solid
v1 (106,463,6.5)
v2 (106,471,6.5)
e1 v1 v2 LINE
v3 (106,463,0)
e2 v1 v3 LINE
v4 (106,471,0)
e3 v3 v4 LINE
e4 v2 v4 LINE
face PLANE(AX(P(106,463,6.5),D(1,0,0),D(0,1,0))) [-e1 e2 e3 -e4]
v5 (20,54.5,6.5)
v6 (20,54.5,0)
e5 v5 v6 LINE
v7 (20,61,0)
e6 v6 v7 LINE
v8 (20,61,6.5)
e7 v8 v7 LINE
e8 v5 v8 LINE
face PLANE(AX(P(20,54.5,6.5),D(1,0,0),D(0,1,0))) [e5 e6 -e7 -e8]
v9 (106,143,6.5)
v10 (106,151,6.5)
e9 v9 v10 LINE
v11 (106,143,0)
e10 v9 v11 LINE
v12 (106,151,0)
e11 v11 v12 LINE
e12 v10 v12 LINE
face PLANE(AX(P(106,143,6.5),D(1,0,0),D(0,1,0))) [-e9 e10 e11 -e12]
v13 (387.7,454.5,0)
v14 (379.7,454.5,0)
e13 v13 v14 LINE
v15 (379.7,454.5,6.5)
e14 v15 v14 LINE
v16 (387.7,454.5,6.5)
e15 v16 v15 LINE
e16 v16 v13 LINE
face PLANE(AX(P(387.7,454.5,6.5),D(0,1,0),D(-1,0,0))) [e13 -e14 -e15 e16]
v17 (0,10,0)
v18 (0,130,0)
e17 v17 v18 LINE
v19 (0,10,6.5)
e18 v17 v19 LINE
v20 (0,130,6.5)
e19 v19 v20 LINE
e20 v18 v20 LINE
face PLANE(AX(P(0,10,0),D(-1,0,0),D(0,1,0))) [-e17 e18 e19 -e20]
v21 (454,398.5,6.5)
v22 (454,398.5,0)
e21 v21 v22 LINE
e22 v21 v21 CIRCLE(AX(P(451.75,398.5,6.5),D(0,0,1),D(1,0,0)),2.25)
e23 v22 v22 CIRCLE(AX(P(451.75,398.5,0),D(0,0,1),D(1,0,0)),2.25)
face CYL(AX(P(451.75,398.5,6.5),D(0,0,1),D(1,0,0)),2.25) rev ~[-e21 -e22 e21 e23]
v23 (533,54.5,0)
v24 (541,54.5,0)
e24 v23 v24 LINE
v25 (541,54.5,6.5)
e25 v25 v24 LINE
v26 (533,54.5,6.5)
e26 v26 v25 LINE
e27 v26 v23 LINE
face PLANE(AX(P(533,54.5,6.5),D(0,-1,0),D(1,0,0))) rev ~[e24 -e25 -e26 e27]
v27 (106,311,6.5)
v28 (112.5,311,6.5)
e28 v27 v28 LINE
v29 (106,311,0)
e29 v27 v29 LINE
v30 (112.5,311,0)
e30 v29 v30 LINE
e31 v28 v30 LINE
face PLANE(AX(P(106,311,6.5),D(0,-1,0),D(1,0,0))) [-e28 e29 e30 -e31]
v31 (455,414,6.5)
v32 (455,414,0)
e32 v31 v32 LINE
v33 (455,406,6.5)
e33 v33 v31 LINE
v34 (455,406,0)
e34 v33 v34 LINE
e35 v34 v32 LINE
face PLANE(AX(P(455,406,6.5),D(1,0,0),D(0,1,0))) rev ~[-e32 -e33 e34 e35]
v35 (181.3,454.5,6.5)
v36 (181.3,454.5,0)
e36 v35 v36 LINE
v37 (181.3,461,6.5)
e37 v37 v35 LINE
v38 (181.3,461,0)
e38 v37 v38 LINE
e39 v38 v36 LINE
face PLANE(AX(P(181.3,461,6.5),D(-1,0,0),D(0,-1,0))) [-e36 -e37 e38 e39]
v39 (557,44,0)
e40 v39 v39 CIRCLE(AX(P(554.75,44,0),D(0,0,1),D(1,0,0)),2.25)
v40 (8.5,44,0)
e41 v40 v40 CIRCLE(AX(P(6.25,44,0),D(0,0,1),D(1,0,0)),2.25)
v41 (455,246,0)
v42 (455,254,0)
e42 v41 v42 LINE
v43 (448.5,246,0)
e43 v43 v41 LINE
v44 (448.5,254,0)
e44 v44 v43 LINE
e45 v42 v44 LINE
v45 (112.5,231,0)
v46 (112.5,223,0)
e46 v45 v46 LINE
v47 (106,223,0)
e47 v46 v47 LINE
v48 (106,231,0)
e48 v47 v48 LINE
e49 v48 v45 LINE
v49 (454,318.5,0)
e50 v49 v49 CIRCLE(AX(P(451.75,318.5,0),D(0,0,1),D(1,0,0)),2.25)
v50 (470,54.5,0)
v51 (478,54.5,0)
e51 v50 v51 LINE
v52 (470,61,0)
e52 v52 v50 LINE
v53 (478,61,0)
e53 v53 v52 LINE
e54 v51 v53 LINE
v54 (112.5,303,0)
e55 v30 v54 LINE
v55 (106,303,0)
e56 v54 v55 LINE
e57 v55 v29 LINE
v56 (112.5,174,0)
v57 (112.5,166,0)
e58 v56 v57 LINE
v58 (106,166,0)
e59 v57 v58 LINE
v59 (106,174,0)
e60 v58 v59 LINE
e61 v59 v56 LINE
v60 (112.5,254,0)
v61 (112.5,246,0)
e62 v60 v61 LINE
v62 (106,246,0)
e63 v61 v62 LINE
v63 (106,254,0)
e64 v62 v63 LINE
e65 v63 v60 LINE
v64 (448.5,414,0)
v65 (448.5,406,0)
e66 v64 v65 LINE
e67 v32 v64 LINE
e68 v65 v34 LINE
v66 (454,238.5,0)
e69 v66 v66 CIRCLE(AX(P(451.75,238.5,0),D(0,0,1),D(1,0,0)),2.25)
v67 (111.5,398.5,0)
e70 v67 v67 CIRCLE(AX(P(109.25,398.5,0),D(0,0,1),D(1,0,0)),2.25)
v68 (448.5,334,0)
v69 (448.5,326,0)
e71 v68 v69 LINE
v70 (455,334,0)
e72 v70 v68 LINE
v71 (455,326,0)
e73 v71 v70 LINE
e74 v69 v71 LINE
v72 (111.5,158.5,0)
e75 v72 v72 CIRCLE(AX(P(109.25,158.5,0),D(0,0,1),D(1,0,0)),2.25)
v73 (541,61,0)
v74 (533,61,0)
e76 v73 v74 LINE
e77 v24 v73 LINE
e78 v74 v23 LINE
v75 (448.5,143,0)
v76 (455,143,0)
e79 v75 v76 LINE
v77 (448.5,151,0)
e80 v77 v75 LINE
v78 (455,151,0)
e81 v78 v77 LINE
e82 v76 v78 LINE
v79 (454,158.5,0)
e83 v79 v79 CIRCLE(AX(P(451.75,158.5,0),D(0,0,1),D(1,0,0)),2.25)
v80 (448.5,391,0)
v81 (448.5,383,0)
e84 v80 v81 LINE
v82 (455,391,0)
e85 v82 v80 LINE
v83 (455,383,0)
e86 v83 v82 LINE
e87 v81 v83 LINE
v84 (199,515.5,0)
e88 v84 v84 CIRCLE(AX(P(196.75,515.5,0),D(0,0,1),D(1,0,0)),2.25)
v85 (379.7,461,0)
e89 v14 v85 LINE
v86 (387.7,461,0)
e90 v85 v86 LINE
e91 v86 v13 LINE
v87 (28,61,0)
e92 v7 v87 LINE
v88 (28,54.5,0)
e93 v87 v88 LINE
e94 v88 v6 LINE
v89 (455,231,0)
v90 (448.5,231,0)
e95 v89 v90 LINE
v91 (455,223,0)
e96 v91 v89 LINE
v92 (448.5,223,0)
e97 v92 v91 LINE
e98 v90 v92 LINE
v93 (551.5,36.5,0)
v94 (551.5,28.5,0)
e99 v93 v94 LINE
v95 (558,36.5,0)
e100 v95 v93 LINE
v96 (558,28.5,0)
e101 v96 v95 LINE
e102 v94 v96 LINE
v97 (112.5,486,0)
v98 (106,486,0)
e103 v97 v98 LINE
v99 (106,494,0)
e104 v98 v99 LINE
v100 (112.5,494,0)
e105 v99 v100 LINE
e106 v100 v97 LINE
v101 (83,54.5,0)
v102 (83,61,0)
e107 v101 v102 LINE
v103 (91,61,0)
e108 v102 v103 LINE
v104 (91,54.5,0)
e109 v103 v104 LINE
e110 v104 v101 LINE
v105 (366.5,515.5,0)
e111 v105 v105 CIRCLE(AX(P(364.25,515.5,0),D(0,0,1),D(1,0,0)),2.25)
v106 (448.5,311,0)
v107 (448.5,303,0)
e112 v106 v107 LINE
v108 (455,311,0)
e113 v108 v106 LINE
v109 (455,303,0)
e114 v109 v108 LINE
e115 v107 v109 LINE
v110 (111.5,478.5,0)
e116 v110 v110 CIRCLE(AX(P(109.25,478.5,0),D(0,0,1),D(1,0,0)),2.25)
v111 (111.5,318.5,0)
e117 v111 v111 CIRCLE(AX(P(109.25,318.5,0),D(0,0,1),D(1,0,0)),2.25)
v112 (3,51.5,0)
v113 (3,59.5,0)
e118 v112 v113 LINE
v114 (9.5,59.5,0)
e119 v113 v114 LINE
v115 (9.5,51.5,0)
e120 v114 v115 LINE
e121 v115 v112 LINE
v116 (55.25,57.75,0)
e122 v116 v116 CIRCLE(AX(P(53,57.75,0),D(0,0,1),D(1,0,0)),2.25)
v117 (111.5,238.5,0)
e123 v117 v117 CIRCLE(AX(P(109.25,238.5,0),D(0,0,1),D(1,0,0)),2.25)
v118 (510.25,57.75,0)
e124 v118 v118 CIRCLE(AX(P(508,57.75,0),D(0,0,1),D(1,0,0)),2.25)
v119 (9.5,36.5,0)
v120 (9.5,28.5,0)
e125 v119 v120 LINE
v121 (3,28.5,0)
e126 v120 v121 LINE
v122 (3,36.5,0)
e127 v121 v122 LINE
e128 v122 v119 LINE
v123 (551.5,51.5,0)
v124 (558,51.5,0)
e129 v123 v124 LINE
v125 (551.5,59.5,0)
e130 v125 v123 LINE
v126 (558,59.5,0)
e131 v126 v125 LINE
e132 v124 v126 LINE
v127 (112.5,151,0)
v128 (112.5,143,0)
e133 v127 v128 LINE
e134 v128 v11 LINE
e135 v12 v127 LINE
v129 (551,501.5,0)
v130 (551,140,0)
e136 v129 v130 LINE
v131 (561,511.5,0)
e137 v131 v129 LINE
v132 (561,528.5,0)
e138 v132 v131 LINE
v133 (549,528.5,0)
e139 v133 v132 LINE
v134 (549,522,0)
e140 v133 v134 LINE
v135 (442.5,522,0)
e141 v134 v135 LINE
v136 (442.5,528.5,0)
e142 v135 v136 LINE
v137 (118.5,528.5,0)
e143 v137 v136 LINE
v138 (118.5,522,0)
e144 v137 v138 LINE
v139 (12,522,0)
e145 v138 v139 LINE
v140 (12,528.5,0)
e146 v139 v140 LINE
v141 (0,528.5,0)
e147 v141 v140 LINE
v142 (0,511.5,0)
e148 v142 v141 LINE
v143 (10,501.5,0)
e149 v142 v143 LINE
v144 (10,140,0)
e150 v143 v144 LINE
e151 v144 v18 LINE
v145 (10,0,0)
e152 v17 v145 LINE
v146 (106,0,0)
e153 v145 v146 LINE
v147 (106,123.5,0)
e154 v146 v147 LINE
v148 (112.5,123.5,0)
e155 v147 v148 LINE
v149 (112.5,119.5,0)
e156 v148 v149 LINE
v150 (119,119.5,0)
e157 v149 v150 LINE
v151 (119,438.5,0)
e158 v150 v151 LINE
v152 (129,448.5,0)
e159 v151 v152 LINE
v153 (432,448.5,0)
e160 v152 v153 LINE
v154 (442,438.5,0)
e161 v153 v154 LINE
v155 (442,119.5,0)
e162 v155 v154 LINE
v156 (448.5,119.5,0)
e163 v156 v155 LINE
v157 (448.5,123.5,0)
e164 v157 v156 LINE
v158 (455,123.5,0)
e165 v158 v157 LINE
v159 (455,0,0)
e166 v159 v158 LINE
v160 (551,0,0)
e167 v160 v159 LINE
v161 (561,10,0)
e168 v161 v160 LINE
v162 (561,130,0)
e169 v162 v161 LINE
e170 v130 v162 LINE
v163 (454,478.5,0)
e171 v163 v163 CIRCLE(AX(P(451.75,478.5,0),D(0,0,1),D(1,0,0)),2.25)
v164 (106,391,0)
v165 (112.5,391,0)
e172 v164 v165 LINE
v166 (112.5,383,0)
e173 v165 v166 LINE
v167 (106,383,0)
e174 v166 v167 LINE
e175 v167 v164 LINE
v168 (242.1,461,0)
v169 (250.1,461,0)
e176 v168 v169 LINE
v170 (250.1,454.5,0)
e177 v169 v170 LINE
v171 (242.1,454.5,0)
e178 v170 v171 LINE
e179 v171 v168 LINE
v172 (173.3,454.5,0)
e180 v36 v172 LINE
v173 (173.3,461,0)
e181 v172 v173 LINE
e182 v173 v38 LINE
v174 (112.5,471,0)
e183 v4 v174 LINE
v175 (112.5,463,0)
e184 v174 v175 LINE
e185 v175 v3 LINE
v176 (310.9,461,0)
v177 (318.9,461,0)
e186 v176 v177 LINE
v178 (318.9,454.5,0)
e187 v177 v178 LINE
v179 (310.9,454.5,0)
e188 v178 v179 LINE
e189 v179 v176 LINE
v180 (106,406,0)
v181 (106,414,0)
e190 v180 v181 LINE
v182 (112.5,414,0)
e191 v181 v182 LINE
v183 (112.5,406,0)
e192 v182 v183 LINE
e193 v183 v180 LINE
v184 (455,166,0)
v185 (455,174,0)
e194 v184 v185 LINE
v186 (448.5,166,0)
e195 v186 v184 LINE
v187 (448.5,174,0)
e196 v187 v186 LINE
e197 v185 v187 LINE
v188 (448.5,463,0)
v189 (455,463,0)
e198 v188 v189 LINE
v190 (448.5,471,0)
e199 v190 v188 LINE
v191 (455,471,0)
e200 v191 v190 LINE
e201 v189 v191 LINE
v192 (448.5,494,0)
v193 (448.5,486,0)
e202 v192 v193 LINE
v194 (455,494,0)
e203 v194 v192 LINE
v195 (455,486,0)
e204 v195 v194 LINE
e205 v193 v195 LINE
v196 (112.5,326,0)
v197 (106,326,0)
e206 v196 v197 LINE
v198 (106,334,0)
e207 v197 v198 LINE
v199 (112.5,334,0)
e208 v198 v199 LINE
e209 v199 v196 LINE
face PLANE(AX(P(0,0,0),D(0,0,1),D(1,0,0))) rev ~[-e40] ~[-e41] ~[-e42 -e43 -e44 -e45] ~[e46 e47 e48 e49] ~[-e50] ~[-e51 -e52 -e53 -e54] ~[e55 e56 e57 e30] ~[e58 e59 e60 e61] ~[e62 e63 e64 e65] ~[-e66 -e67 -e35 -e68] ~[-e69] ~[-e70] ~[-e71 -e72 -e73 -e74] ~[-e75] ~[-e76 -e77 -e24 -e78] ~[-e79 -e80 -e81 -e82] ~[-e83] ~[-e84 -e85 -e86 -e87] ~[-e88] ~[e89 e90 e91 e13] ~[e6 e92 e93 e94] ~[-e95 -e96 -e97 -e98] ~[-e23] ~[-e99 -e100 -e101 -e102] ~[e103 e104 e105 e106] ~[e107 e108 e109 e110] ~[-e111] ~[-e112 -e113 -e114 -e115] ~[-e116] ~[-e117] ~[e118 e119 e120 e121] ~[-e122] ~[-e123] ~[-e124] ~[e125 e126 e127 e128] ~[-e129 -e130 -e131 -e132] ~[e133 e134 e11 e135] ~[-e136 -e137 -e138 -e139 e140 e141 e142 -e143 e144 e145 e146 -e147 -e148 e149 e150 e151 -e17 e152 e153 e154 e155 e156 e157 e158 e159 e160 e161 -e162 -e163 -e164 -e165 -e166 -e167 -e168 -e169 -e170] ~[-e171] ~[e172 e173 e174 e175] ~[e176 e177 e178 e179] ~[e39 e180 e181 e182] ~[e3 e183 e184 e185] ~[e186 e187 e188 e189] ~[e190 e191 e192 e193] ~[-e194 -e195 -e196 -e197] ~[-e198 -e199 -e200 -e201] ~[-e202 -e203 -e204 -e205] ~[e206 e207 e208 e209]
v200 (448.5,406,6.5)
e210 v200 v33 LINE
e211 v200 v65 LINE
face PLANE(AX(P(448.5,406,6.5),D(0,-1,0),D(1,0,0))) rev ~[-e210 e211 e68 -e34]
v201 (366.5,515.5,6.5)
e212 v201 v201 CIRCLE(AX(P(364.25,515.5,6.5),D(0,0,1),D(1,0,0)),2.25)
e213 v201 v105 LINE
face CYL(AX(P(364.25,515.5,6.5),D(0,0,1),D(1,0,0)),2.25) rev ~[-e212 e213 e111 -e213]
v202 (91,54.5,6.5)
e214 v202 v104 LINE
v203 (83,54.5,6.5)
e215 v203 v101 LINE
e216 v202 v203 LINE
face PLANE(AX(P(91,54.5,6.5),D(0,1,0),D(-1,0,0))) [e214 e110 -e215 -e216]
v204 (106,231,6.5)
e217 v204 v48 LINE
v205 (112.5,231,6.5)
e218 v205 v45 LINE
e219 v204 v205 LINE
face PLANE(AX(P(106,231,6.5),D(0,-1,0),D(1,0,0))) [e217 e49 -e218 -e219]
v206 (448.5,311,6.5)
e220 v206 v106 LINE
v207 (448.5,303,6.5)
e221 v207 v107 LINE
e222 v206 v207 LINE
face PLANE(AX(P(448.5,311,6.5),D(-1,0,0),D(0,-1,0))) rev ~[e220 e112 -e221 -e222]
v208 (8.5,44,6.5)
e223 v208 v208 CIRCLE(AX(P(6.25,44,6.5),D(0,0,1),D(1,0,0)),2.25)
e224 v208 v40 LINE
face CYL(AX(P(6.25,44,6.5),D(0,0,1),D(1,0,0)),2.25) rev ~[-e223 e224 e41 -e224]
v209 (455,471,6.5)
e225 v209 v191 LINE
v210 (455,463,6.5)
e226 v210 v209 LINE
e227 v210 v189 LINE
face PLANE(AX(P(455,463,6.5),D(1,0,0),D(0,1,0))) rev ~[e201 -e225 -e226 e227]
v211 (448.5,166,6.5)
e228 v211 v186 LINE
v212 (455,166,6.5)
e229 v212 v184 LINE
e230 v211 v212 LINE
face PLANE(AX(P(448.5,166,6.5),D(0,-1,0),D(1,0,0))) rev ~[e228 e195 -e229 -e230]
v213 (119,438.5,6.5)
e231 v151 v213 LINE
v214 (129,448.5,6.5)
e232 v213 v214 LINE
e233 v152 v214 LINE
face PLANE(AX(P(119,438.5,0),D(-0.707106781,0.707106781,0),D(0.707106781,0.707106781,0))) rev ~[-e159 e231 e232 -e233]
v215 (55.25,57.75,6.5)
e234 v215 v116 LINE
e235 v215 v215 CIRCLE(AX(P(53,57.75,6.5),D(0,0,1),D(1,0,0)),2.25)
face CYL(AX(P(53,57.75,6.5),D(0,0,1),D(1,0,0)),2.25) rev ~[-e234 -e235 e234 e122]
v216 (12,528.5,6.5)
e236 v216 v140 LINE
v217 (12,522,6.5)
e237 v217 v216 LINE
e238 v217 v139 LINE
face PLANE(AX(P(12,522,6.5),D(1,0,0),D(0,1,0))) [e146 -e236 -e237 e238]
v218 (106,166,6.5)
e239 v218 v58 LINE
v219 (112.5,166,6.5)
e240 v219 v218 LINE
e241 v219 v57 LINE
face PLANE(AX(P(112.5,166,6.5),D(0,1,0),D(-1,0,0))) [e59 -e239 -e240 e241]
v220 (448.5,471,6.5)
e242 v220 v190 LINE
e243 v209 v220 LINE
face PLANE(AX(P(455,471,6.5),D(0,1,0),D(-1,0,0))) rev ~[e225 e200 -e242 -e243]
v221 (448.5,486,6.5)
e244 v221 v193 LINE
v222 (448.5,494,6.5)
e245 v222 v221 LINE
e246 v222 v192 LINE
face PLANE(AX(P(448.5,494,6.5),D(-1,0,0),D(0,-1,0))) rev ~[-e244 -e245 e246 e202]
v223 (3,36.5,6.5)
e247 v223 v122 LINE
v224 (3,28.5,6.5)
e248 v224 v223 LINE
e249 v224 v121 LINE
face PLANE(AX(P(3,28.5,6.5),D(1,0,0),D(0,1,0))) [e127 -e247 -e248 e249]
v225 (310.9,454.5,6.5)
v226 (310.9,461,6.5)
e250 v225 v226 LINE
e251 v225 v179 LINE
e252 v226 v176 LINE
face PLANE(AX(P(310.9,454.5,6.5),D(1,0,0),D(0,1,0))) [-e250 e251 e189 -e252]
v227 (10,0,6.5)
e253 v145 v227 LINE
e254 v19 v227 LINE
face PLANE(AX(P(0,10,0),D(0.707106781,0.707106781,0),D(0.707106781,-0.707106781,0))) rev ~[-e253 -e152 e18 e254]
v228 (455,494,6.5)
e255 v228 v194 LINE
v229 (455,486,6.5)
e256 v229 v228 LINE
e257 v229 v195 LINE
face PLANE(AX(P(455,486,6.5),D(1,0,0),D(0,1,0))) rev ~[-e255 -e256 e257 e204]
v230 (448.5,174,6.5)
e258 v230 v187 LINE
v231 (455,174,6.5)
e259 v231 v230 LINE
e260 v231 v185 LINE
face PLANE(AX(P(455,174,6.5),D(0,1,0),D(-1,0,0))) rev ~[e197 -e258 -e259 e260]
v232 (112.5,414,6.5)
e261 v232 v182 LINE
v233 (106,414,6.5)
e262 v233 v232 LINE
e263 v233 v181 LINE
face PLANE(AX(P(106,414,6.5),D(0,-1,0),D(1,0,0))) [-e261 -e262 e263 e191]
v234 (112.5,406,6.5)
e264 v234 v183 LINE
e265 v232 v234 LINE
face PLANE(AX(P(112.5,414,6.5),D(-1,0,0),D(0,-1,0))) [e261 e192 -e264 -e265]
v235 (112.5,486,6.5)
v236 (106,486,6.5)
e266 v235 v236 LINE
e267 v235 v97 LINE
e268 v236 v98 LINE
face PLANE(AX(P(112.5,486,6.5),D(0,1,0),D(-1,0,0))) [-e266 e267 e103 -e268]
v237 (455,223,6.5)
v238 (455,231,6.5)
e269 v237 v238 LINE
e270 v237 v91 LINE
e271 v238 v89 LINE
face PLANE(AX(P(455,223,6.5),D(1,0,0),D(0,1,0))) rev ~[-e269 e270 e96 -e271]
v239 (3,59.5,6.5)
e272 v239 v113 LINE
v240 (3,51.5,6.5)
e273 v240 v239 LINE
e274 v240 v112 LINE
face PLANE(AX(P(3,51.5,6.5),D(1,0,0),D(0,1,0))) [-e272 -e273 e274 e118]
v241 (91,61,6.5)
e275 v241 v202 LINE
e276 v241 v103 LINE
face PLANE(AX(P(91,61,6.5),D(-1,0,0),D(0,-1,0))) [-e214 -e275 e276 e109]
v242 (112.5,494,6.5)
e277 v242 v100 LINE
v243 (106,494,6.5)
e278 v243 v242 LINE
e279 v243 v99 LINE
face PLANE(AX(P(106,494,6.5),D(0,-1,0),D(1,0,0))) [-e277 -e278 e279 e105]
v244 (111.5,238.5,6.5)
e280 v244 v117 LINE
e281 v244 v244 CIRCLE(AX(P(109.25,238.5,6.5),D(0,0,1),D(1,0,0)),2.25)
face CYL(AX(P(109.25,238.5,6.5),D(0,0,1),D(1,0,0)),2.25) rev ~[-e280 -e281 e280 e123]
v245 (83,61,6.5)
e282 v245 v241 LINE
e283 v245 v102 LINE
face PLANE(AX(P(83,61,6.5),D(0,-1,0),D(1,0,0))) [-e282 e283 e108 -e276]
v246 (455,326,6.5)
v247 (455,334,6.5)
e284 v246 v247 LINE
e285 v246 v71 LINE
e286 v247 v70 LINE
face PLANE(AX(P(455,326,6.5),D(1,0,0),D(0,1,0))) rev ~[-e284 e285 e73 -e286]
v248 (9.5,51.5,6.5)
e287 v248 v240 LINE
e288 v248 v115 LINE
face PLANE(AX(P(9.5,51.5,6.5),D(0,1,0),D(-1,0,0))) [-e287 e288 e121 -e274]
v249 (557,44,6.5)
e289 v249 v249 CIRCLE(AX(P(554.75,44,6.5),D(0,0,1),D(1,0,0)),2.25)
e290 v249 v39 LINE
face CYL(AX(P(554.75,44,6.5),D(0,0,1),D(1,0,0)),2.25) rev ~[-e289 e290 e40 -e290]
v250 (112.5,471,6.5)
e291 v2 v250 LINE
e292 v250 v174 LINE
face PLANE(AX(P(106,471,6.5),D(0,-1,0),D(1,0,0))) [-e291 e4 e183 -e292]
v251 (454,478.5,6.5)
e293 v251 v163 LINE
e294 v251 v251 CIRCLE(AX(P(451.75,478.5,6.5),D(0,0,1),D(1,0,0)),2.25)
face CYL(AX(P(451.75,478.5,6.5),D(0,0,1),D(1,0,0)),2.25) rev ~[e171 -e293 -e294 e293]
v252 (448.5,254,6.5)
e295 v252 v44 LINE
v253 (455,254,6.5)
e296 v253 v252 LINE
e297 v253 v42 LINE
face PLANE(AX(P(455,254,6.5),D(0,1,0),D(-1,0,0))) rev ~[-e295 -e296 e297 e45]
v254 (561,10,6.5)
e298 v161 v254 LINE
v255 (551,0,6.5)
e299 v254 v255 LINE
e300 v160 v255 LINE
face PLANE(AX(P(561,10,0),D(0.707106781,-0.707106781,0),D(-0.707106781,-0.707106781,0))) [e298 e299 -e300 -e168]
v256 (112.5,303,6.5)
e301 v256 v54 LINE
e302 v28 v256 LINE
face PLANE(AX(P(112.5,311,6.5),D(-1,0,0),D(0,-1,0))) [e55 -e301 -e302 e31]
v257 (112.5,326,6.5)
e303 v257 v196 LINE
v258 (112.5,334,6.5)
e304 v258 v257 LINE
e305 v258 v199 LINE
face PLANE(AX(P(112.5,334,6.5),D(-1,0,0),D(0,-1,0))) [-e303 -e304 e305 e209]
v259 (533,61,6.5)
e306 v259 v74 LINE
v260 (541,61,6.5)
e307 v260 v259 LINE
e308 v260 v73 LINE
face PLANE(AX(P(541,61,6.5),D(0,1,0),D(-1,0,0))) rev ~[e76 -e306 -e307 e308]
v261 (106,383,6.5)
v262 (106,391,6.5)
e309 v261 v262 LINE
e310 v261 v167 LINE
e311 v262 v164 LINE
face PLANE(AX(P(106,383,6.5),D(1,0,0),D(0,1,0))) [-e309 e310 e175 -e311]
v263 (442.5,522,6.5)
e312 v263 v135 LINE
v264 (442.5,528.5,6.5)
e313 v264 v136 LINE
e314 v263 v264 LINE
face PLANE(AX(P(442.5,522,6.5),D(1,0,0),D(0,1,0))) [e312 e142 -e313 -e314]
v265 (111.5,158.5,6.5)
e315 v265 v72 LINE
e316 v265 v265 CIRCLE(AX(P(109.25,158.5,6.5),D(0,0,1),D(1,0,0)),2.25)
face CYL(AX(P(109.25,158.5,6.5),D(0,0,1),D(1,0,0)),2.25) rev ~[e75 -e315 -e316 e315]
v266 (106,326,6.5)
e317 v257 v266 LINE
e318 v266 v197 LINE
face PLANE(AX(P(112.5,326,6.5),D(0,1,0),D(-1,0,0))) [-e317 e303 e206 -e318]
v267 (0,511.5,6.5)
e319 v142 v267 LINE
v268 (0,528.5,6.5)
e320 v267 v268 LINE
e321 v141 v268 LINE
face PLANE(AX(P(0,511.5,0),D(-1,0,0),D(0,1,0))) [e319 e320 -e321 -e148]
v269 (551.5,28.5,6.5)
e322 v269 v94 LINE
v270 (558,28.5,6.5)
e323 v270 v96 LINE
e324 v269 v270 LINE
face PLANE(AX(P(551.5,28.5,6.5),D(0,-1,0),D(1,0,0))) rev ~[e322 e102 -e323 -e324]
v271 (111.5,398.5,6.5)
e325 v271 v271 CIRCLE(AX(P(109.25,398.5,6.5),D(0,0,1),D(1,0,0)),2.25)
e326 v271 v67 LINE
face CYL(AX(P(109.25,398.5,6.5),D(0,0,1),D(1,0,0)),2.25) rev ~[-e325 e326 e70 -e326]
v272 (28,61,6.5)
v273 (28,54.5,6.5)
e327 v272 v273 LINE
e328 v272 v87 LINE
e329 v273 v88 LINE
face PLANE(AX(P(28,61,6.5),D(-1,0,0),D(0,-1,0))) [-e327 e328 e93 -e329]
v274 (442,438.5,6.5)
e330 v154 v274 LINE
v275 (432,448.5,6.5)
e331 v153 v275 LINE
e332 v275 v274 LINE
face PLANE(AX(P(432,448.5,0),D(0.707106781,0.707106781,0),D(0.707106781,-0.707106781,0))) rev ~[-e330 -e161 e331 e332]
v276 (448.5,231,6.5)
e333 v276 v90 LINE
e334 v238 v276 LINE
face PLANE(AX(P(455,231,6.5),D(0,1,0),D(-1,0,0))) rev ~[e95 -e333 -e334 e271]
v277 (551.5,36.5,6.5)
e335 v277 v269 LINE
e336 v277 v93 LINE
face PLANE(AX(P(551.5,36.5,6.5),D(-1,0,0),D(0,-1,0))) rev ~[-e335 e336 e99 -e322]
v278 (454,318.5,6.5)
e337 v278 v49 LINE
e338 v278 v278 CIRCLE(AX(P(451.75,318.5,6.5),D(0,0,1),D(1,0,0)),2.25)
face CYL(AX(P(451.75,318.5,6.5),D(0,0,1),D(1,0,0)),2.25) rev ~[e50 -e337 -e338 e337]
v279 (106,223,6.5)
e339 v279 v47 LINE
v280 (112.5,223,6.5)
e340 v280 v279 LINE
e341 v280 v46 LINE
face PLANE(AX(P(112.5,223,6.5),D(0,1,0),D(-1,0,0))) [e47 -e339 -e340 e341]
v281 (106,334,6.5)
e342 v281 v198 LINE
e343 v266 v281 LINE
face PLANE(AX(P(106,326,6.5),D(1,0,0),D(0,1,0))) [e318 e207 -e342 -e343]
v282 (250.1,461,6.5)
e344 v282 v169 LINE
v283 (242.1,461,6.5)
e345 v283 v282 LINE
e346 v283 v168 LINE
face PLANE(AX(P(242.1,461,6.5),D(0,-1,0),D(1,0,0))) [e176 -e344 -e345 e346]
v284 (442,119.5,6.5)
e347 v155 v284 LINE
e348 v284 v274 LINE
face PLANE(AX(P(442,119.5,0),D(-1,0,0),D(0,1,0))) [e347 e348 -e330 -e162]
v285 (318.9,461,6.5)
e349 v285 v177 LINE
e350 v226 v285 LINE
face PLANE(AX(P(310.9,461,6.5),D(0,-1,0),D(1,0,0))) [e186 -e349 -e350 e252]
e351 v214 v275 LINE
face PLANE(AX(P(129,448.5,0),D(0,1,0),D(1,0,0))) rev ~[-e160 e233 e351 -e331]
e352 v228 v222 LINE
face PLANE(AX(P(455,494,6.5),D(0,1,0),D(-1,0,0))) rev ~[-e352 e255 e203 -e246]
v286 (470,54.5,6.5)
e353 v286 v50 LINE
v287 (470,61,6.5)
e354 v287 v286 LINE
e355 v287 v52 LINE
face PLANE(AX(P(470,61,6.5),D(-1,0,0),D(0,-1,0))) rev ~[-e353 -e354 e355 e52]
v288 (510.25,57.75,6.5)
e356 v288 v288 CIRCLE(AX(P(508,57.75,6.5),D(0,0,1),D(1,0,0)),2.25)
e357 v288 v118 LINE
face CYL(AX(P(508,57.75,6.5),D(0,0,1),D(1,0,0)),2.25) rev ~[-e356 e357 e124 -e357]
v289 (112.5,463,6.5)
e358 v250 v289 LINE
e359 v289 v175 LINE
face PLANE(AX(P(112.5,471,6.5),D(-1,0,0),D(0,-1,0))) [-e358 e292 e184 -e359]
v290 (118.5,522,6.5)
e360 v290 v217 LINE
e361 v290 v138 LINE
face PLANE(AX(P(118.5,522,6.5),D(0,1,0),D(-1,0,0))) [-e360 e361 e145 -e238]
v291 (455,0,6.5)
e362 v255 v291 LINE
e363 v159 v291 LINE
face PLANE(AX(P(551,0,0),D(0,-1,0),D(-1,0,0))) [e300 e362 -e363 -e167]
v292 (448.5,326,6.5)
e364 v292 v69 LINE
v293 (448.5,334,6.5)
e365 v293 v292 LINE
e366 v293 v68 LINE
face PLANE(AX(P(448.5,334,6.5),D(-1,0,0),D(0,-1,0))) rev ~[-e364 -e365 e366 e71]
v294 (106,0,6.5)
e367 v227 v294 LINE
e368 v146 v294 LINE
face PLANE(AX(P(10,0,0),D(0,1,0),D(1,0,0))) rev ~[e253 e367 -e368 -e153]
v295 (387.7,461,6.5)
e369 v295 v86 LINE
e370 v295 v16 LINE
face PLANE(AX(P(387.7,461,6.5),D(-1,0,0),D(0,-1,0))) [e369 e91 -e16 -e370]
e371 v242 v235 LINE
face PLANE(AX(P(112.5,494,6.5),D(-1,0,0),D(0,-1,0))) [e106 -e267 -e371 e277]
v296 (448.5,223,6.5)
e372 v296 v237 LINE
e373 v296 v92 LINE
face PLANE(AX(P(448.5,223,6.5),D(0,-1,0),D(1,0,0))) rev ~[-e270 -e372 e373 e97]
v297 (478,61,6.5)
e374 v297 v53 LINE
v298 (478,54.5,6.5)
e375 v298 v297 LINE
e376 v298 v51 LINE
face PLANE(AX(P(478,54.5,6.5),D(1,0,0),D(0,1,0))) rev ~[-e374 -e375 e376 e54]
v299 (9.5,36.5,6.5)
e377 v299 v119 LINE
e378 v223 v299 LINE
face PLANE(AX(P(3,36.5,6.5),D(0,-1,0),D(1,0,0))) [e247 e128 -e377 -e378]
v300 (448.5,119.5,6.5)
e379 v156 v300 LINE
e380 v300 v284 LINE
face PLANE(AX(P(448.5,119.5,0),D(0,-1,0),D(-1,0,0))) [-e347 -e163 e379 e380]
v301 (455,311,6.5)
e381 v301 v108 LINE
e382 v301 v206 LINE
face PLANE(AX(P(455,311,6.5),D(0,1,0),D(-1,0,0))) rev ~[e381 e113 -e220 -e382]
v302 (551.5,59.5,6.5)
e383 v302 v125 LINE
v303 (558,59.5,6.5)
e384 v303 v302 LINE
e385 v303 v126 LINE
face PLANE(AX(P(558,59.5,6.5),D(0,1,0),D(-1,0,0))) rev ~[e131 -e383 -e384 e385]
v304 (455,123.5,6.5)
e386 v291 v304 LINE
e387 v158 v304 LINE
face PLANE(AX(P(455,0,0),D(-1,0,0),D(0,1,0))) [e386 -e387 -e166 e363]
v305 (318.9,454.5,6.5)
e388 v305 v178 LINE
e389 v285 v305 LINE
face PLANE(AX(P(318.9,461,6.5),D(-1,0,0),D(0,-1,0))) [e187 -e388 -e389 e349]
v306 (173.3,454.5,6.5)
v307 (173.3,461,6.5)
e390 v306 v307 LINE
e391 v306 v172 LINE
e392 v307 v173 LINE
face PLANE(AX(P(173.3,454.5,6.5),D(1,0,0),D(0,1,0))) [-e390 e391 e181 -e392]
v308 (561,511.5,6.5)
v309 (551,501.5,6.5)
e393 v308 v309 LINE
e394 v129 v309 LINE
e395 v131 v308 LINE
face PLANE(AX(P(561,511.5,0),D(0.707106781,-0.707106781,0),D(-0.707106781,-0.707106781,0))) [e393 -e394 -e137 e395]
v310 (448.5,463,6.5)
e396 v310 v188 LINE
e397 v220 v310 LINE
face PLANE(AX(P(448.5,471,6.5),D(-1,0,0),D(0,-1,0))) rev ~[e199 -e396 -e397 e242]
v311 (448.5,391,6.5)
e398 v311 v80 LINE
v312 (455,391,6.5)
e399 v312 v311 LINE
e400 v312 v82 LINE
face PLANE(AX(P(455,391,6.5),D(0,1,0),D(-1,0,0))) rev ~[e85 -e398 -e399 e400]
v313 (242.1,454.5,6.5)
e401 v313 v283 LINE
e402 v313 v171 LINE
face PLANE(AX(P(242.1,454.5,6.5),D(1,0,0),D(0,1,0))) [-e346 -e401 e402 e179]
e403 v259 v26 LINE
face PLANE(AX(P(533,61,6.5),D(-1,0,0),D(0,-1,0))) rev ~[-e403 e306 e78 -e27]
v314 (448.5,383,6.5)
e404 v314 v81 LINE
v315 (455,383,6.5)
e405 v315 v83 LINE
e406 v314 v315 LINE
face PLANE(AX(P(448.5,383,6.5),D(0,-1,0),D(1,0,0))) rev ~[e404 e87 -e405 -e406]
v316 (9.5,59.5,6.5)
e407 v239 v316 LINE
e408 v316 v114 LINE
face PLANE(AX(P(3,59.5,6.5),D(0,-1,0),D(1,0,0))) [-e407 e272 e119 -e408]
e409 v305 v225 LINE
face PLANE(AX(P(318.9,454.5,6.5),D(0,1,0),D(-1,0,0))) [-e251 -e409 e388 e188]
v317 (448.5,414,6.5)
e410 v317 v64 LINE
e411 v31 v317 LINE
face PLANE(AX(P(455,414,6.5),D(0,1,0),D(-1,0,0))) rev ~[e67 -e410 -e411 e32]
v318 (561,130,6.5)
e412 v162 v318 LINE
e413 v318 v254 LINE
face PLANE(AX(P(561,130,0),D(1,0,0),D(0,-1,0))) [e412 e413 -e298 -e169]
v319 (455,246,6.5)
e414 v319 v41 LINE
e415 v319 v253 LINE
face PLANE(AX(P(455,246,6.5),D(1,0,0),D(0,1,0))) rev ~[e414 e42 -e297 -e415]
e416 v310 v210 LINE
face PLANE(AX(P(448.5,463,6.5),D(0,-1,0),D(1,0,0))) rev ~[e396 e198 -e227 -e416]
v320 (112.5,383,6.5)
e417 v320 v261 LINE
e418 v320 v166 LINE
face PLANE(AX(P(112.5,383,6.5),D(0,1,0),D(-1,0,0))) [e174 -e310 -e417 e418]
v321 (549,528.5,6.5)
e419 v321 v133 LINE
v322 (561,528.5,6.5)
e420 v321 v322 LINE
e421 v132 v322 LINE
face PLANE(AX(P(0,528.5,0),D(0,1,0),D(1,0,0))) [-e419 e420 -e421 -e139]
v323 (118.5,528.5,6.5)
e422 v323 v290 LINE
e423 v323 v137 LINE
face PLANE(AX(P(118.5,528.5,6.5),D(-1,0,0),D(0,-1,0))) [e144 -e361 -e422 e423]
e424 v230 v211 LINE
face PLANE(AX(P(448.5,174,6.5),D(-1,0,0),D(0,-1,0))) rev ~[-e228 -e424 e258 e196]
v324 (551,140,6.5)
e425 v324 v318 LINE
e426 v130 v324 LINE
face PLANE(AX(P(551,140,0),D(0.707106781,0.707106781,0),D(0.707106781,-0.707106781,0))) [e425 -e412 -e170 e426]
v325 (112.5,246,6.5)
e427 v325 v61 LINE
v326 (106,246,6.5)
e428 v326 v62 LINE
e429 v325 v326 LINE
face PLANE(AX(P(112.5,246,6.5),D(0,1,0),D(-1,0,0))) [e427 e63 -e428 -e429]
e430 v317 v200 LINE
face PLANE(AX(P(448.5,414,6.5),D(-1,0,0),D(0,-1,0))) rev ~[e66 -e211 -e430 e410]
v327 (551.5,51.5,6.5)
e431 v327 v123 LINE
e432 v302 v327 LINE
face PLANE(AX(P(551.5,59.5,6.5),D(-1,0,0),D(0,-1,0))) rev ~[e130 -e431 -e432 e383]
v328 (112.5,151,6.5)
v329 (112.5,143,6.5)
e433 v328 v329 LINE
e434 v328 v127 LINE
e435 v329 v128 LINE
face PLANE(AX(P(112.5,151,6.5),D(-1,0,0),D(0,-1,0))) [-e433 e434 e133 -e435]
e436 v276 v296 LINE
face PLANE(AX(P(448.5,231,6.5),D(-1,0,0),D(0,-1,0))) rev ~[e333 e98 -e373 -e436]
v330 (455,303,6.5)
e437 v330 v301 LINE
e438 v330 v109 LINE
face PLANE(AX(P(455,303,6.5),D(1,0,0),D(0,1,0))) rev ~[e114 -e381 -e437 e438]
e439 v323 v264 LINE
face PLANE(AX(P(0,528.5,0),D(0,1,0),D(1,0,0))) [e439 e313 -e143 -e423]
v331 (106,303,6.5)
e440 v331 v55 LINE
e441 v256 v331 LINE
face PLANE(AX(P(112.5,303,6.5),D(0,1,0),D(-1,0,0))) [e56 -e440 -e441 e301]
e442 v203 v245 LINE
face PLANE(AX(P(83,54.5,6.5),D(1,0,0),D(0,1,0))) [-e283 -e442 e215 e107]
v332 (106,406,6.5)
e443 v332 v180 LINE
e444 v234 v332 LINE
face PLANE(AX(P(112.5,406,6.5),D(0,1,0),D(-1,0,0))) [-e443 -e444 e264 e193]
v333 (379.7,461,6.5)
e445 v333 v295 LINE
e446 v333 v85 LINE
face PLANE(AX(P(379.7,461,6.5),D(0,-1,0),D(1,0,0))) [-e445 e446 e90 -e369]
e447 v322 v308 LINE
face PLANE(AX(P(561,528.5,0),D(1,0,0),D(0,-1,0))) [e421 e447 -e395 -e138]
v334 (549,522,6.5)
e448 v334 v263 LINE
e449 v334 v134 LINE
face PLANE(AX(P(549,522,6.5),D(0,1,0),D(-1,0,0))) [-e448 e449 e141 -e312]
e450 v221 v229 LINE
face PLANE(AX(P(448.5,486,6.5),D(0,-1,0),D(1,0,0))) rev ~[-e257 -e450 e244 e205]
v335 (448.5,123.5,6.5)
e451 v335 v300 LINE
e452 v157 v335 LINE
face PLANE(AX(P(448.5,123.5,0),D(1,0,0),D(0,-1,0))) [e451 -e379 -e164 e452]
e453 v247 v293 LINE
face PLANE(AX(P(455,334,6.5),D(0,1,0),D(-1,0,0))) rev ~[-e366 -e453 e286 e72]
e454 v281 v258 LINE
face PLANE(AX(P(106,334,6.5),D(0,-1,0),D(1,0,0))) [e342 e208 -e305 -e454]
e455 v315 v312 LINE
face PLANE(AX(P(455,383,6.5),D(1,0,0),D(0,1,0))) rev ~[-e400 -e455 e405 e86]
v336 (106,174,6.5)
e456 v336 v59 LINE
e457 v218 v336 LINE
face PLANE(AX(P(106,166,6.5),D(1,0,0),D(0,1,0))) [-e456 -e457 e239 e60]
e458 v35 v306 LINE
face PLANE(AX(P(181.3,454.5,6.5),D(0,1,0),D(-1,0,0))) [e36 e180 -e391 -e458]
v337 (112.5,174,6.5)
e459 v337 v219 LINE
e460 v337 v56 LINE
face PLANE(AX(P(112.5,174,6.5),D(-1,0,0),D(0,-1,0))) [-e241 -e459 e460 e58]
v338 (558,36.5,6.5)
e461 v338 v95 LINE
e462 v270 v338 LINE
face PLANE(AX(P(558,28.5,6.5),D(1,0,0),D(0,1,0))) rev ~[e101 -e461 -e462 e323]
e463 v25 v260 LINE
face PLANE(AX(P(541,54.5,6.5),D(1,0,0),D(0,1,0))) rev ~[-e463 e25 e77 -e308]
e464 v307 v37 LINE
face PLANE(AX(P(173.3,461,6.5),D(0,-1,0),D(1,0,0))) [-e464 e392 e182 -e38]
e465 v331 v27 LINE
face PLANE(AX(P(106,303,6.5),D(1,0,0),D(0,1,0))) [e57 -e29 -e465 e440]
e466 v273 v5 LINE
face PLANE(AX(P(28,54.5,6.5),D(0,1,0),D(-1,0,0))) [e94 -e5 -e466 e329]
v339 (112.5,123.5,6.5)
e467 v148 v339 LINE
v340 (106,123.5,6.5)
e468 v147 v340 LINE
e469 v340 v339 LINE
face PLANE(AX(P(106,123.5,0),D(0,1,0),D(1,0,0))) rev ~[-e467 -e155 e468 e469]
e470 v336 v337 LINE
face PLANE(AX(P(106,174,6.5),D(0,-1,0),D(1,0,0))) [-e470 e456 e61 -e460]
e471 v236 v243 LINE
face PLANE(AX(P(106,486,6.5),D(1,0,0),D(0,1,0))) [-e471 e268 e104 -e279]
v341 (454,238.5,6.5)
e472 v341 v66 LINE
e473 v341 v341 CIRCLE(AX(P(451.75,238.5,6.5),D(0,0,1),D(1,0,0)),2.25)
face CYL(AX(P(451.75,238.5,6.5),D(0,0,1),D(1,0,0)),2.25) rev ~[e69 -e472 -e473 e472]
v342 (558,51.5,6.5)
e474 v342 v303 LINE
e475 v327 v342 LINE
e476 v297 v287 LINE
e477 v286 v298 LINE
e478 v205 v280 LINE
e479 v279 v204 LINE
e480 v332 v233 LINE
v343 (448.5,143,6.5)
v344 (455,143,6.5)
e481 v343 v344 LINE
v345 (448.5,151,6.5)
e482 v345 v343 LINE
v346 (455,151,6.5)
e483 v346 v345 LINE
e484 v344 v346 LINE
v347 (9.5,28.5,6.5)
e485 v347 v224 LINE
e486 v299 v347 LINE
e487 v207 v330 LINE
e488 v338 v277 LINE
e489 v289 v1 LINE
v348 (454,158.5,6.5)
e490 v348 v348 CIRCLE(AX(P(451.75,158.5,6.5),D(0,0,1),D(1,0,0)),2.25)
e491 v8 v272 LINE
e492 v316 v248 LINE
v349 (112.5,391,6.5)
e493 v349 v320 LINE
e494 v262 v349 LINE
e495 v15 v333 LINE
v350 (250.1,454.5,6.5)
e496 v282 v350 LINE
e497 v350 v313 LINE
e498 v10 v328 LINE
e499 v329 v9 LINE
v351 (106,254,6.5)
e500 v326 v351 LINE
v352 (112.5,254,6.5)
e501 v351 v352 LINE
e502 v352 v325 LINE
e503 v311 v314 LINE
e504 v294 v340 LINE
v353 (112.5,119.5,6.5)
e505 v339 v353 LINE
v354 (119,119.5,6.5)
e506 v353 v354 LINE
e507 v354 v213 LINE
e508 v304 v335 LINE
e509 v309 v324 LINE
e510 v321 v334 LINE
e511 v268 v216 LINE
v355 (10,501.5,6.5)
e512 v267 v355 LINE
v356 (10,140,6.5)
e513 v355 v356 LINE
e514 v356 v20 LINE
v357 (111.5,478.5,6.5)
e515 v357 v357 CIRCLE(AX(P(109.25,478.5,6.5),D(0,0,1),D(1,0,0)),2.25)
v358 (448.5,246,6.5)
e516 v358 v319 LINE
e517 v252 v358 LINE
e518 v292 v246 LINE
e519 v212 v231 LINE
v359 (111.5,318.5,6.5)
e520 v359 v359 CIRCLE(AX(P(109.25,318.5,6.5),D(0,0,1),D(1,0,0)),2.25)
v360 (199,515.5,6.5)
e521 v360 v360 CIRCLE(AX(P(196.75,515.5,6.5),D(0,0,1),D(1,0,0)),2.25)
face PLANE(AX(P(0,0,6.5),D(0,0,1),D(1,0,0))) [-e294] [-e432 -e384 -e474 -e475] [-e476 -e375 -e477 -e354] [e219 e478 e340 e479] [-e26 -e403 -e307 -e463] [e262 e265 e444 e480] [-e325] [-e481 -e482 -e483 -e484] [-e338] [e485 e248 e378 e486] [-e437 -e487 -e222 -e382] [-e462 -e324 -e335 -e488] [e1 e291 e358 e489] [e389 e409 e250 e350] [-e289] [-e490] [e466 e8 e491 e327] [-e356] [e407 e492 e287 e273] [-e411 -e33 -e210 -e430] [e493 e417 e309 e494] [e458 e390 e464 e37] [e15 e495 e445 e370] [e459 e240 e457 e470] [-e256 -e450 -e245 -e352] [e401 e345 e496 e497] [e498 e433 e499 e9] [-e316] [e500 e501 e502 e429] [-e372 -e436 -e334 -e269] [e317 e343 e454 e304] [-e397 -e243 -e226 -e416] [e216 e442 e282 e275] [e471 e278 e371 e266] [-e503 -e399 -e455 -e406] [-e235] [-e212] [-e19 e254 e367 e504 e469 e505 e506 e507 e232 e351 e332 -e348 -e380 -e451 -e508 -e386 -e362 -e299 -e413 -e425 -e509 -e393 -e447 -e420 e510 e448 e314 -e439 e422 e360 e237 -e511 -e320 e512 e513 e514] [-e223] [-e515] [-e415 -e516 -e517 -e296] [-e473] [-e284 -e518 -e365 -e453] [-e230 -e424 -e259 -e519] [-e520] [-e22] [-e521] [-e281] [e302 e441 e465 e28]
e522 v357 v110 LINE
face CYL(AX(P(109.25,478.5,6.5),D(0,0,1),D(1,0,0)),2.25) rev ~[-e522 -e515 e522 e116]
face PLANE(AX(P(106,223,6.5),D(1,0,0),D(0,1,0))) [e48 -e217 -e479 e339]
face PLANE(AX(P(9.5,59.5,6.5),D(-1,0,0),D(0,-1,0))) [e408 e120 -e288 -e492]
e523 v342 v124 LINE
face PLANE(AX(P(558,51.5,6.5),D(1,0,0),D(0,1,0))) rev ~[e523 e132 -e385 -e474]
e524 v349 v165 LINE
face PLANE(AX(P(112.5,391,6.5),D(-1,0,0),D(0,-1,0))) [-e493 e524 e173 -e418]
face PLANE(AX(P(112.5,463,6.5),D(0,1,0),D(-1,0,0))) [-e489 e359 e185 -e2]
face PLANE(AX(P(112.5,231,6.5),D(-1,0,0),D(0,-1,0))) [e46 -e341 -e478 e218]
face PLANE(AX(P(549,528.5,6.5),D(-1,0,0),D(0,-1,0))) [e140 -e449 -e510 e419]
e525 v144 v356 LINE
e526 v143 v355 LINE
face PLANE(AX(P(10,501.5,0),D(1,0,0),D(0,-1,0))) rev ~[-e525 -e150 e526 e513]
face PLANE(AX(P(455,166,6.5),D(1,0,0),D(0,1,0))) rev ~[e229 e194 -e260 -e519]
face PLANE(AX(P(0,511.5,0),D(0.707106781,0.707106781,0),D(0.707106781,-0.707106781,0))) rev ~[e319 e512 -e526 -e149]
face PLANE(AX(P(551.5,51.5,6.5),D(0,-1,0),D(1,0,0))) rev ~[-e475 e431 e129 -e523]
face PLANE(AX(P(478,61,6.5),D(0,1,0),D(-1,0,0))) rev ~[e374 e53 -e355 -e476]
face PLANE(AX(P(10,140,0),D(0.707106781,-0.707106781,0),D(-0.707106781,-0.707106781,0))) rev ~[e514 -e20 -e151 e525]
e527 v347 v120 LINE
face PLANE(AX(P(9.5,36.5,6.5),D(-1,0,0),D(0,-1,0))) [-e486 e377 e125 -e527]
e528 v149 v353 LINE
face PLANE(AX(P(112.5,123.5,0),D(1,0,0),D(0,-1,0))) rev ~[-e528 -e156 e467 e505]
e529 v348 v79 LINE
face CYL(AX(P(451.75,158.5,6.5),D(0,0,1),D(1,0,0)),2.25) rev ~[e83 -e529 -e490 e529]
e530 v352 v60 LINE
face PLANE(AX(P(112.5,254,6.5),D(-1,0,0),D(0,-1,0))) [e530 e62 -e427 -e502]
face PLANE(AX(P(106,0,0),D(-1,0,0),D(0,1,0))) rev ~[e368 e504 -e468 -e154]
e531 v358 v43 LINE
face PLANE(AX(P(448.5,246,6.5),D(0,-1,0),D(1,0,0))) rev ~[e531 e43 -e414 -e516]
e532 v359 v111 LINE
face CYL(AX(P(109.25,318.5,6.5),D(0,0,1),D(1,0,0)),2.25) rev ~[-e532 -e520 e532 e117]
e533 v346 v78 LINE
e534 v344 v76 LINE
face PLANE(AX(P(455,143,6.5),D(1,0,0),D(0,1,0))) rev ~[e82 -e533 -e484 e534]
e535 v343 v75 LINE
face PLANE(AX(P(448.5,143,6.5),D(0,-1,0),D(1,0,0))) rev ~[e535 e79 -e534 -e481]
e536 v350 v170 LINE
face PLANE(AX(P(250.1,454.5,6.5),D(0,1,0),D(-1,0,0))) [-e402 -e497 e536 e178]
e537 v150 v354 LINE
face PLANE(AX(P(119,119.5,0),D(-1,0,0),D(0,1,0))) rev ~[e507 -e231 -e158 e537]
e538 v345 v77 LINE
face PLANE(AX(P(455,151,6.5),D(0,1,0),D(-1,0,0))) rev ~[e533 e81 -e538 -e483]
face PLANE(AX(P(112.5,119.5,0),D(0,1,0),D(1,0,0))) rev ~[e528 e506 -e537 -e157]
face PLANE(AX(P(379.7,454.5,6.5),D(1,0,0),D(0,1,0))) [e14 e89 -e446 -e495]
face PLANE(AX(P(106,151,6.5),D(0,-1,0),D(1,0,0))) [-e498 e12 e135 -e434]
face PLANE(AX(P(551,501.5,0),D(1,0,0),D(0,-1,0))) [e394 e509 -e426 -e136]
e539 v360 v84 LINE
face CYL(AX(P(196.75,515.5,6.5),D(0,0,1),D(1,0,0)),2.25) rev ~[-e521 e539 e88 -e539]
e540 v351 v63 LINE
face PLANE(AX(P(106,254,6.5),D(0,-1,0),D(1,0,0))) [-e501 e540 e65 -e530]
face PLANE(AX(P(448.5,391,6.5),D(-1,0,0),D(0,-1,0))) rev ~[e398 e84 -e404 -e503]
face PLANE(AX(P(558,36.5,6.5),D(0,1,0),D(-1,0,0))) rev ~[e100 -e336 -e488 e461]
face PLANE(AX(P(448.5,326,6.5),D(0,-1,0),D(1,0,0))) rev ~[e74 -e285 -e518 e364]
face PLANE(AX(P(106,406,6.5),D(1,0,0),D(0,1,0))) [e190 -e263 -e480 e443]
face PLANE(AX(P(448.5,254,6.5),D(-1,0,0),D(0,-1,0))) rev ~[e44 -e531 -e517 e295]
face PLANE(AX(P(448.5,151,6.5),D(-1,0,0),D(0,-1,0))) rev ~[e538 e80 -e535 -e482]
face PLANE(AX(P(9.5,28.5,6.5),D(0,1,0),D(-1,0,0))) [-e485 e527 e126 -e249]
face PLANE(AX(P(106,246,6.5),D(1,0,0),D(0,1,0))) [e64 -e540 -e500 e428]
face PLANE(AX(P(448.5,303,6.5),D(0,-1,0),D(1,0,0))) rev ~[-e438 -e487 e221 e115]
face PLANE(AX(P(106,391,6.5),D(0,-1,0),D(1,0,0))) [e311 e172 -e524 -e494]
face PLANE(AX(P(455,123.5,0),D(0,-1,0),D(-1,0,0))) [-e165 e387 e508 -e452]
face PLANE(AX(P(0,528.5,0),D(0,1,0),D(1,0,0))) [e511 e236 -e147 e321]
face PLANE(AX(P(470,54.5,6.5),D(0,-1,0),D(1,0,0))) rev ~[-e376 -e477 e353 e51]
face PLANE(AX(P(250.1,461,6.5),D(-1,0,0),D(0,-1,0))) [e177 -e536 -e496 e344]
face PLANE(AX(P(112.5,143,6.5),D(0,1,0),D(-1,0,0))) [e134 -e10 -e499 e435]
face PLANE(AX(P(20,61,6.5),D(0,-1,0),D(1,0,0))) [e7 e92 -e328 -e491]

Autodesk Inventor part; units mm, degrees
ref_plane "YZ Plane" through (0, 0, 0) normal (1, 0, 0) x (0, 1, 0)
ref_plane "XZ Plane" through (0, 0, 0) normal (0, 1, 0) x (-1, 0, 0)
ref_plane "XY Plane" through (0, 0, 0) normal (0, 0, 1) x (1, 0, 0)
sketch "Sketch1" plane through (0, 0, 0) normal (0, 0, 1) x (1, 0, 0)
  line L0 (0, 528.5) -> (561, 528.5)
  line L1 (0, 10) -> (10, 0)
  line L2 (561, 10) -> (551, 0)
  line L3 (0, 511.5) -> (10, 501.5)
  line L4 (10, 501.5) -> (10, 140)
  line L5 (10, 140) -> (0, 130)
  line L6 (561, 511.5) -> (551, 501.5)
  line L7 (551, 501.5) -> (551, 140)
  line L8 (551, 140) -> (561, 130)
  line L9 (0, 10) -> (0, 130)
  line L10 (0, 511.5) -> (0, 528.5)
  line L11 (561, 528.5) -> (561, 511.5)
  line L12 (561, 130) -> (561, 10)
  line L13 (10, 0) -> (106, 0)
  line L14 (106, 0) -> (106, 123.5)
  line L15 (551, 0) -> (455, 0)
  line L16 (455, 0) -> (455, 123.5)
  line L17 (106, 123.5) -> (112.5, 123.5)
  line L18 (112.5, 123.5) -> (112.5, 119.5)
  line L19 (112.5, 119.5) -> (119, 119.5)
  line L20 (119, 119.5) -> (119, 438.5)
  line L21 (455, 123.5) -> (448.5, 123.5)
  line L22 (448.5, 123.5) -> (448.5, 119.5)
  line L23 (448.5, 119.5) -> (442, 119.5)
  line L24 (442, 119.5) -> (442, 438.5)
  line L25 (119, 438.5) -> (129, 448.5)
  line L26 (129, 448.5) -> (432, 448.5)
  line L27 (432, 448.5) -> (442, 438.5)
  point P0 (0, 0)
  point P1 (280.5, 448.5)
  point P2 (280.5, 528.5)
  dimension "d0" = 561
  dimension "d1" = 528.5
  dimension "d2" = 10
  dimension "d3" = 10
  dimension "d4" = 45
  dimension "d5" = 10
  dimension "d6" = 17
  dimension "d7" = 6.5
  dimension "d8" = 6.5
  dimension "d9" = 6.5
  dimension "d10" = 6.5
  dimension "d11" = 4
  dimension "d12" = 10
  dimension "d13" = 80
  dimension "d14" = 323
  dimension "d15" = 123.5
  dimension "d18" = 6.5
extrude "Extrusion1" add sketch "Sketch1" along normal blind 6.5
sketch "Sketch15" plane through (0, 0, 6.5) normal (0, 0, 1) x (1, 0, 0)
  line L0 (561, 528.5) -> (0, 528.5) projected
  line L1 (0, 528.5) -> (0, 511.5) projected
  line L2 (561, 511.5) -> (561, 528.5) projected
  line L3 (12, 528.5) -> (118.5, 528.5)
  line L4 (118.5, 528.5) -> (118.5, 522)
  line L5 (118.5, 522) -> (12, 522)
  line L6 (12, 522) -> (12, 528.5)
  line L7 (442.5, 528.5) -> (549, 528.5)
  line L8 (549, 528.5) -> (549, 522)
  line L9 (549, 522) -> (442.5, 522)
  line L10 (442.5, 522) -> (442.5, 528.5)
  point P0 (0, 0)
  dimension "d138" = 6.5
  dimension "d139" = 12
  dimension "d141" = 12
  dimension "d145" = 106.5
extrude "Extrusion15" cut sketch "Sketch15" against normal through all
sketch "Sketch16" plane through (0, 0, 6.5) normal (0, 0, 1) x (1, 0, 0)
  line L0 (442.5, 528.5) -> (118.5, 528.5) projected
  line L1 (119, 119.5) -> (119, 438.5) projected
  line L2 (129, 448.5) -> (432, 448.5) projected
  line L3 (280.5, 528.5) -> (280.5, 448.5) construction
  line L4 (106, 494) -> (112.5, 494)
  line L5 (112.5, 494) -> (112.5, 486)
  line L6 (112.5, 486) -> (106, 486)
  line L7 (106, 486) -> (106, 494)
  line L8 (106, 471) -> (112.5, 471)
  line L9 (112.5, 471) -> (112.5, 463)
  line L10 (112.5, 463) -> (106, 463)
  line L11 (106, 463) -> (106, 471)
  line L12 (106, 486) -> (112.5, 471) construction
  line L13 (106, 471) -> (112.5, 486) construction
  circle A0 centre (109.25, 478.5) radius 2.25
  line L14 (106, 414) -> (112.5, 414)
  line L15 (112.5, 414) -> (112.5, 406)
  line L16 (112.5, 406) -> (106, 406)
  line L17 (106, 406) -> (106, 414)
  line L18 (106, 391) -> (112.5, 391)
  line L19 (112.5, 391) -> (112.5, 383)
  line L20 (112.5, 383) -> (106, 383)
  line L21 (106, 383) -> (106, 391)
  line L22 (106, 406) -> (112.5, 391) construction
  line L23 (106, 391) -> (112.5, 406) construction
  circle A1 centre (109.25, 398.5) radius 2.25
  line L24 (106, 334) -> (112.5, 334)
  line L25 (112.5, 334) -> (112.5, 326)
  line L26 (112.5, 326) -> (106, 326)
  line L27 (106, 326) -> (106, 334)
  line L28 (106, 311) -> (112.5, 311)
  line L29 (112.5, 311) -> (112.5, 303)
  line L30 (112.5, 303) -> (106, 303)
  line L31 (106, 303) -> (106, 311)
  line L32 (106, 326) -> (112.5, 311) construction
  line L33 (106, 311) -> (112.5, 326) construction
  circle A2 centre (109.25, 318.5) radius 2.25
  line L34 (106, 254) -> (112.5, 254)
  line L35 (112.5, 254) -> (112.5, 246)
  line L36 (112.5, 246) -> (106, 246)
  line L37 (106, 246) -> (106, 254)
  line L38 (106, 231) -> (112.5, 231)
  line L39 (112.5, 231) -> (112.5, 223)
  line L40 (112.5, 223) -> (106, 223)
  line L41 (106, 223) -> (106, 231)
  line L42 (106, 246) -> (112.5, 231) construction
  line L43 (106, 231) -> (112.5, 246) construction
  circle A3 centre (109.25, 238.5) radius 2.25
  line L44 (106, 174) -> (112.5, 174)
  line L45 (112.5, 174) -> (112.5, 166)
  line L46 (112.5, 166) -> (106, 166)
  line L47 (106, 166) -> (106, 174)
  line L48 (106, 151) -> (112.5, 151)
  line L49 (112.5, 151) -> (112.5, 143)
  line L50 (112.5, 143) -> (106, 143)
  line L51 (106, 143) -> (106, 151)
  line L52 (106, 166) -> (112.5, 151) construction
  line L53 (106, 151) -> (112.5, 166) construction
  circle A4 centre (109.25, 158.5) radius 2.25
  line L54 (455, 494) -> (448.5, 494)
  line L55 (448.5, 494) -> (448.5, 486)
  line L56 (448.5, 486) -> (455, 486)
  line L57 (455, 486) -> (455, 494)
  line L58 (455, 471) -> (448.5, 471)
  line L59 (448.5, 471) -> (448.5, 463)
  line L60 (448.5, 463) -> (455, 463)
  line L61 (455, 463) -> (455, 471)
  line L62 (455, 486) -> (448.5, 471) construction
  line L63 (455, 471) -> (448.5, 486) construction
  circle A5 centre (451.75, 478.5) radius 2.25
  line L64 (448.5, 383) -> (455, 383)
  line L65 (455, 383) -> (455, 391)
  line L66 (455, 391) -> (448.5, 391)
  line L67 (448.5, 391) -> (448.5, 383)
  circle A6 centre (451.75, 398.5) radius 2.25
  line L68 (448.5, 406) -> (455, 406)
  line L69 (455, 406) -> (448.5, 391) construction
  line L70 (455, 391) -> (448.5, 406) construction
  line L71 (455, 406) -> (455, 414)
  line L72 (455, 414) -> (448.5, 414)
  line L73 (448.5, 414) -> (448.5, 406)
  line L74 (448.5, 303) -> (455, 303)
  line L75 (455, 303) -> (455, 311)
  line L76 (455, 311) -> (448.5, 311)
  line L77 (448.5, 311) -> (448.5, 303)
  circle A7 centre (451.75, 318.5) radius 2.25
  line L78 (448.5, 326) -> (455, 326)
  line L79 (455, 326) -> (448.5, 311) construction
  line L80 (455, 311) -> (448.5, 326) construction
  line L81 (455, 326) -> (455, 334)
  line L82 (455, 334) -> (448.5, 334)
  line L83 (448.5, 334) -> (448.5, 326)
  line L84 (448.5, 223) -> (455, 223)
  line L85 (455, 223) -> (455, 231)
  line L86 (455, 231) -> (448.5, 231)
  line L87 (448.5, 231) -> (448.5, 223)
  circle A8 centre (451.75, 238.5) radius 2.25
  line L88 (448.5, 246) -> (455, 246)
  line L89 (455, 246) -> (448.5, 231) construction
  line L90 (455, 231) -> (448.5, 246) construction
  line L91 (455, 246) -> (455, 254)
  line L92 (455, 254) -> (448.5, 254)
  line L93 (448.5, 254) -> (448.5, 246)
  line L94 (448.5, 143) -> (455, 143)
  line L95 (455, 143) -> (455, 151)
  line L96 (455, 151) -> (448.5, 151)
  line L97 (448.5, 151) -> (448.5, 143)
  circle A9 centre (451.75, 158.5) radius 2.25
  line L98 (448.5, 166) -> (455, 166)
  line L99 (455, 166) -> (448.5, 151) construction
  line L100 (455, 151) -> (448.5, 166) construction
  line L101 (455, 166) -> (455, 174)
  line L102 (455, 174) -> (448.5, 174)
  line L103 (448.5, 174) -> (448.5, 166)
  line L104 (112.5, 123.5) -> (112.5, 119.5) projected
  point P0 (0, 0)
  dimension "d146" = 6.5
  dimension "d147" = 8
  dimension "d148" = 15
  dimension "d149" = 4.5
  dimension "d151" = 50
  dimension "d154" = 80
extrude "Extrusion16" cut sketch "Sketch16" against normal through all
sketch "Sketch17" plane through (0, 0, 6.5) normal (0, 0, 1) x (1, 0, 0)
  line L0 (129, 448.5) -> (432, 448.5) projected
  line L1 (173.3, 461) -> (181.3, 461)
  line L2 (181.3, 461) -> (181.3, 454.5)
  line L3 (181.3, 454.5) -> (173.3, 454.5)
  line L4 (173.3, 454.5) -> (173.3, 461)
  line L5 (242.1, 461) -> (250.1, 461)
  line L6 (250.1, 461) -> (250.1, 454.5)
  line L7 (250.1, 454.5) -> (242.1, 454.5)
  line L8 (242.1, 454.5) -> (242.1, 461)
  line L9 (310.9, 461) -> (318.9, 461)
  line L10 (318.9, 461) -> (318.9, 454.5)
  line L11 (318.9, 454.5) -> (310.9, 454.5)
  line L12 (310.9, 454.5) -> (310.9, 461)
  line L13 (379.7, 461) -> (387.7, 461)
  line L14 (387.7, 461) -> (387.7, 454.5)
  line L15 (387.7, 454.5) -> (379.7, 454.5)
  line L16 (379.7, 454.5) -> (379.7, 461)
  line L17 (173.3, 457.75) -> (112.5, 457.75) construction
  line L18 (181.3, 457.75) -> (242.1, 457.75) construction
  line L19 (250.1, 457.75) -> (310.9, 457.75) construction
  line L20 (318.9, 457.75) -> (379.7, 457.75) construction
  line L21 (387.7, 457.75) -> (448.5, 457.75) construction
  point P0 (112.5, 463)
  point P1 (448.5, 463)
  point P2 (0, 0)
  dimension "d161" = 8
  dimension "d162" = 6.5
  dimension "d163" = 6
extrude "Extrusion17" cut sketch "Sketch17" against normal through all
sketch "Sketch18" plane through (0, 0, 6.5) normal (0, 0, 1) x (1, 0, 0)
  line L0 (442.5, 528.5) -> (118.5, 528.5) projected
  line L1 (0, 528.5) -> (0, 511.5) projected
  line L2 (561, 511.5) -> (561, 528.5) projected
  circle A0 centre (196.75, 515.5) radius 2.25
  circle A1 centre (364.25, 515.5) radius 2.25
  point P0 (0, 0)
  dimension "d166" = 13
  dimension "d167" = 4.5
  dimension "d168" = 196.75
  dimension "d169" = 196.75
extrude "Extrusion18" cut sketch "Sketch18" against normal through all
sketch "Sketch19" plane through (0, 0, 6.5) normal (0, 0, 1) x (1, 0, 0)
  line L0 (442.5, 528.5) -> (118.5, 528.5) projected
  line L1 (0, 130) -> (0, 10) projected
  line L2 (106, 123.5) -> (112.5, 123.5) projected
  line L3 (129, 448.5) -> (432, 448.5) projected
  line L4 (3, 59.5) -> (9.5, 59.5)
  line L5 (9.5, 59.5) -> (9.5, 51.5)
  line L6 (9.5, 51.5) -> (3, 51.5)
  line L7 (3, 51.5) -> (3, 59.5)
  line L8 (3, 36.5) -> (9.5, 36.5)
  line L9 (9.5, 36.5) -> (9.5, 28.5)
  line L10 (9.5, 28.5) -> (3, 28.5)
  line L11 (3, 28.5) -> (3, 36.5)
  circle A0 centre (6.25, 44) radius 2.25
  line L12 (280.5, 528.5) -> (280.5, 448.5) construction
  line L13 (558, 59.5) -> (551.5, 59.5)
  line L14 (551.5, 59.5) -> (551.5, 51.5)
  line L15 (551.5, 51.5) -> (558, 51.5)
  line L16 (558, 51.5) -> (558, 59.5)
  line L17 (558, 36.5) -> (551.5, 36.5)
  line L18 (551.5, 36.5) -> (551.5, 28.5)
  line L19 (551.5, 28.5) -> (558, 28.5)
  line L20 (558, 28.5) -> (558, 36.5)
  circle A1 centre (554.75, 44) radius 2.25
  point P0 (0, 0)
  point P1 (6.25, 51.5)
  point P2 (554.75, 51.5)
  dimension "d172" = 6.5
  dimension "d173" = 8
  dimension "d174" = 15
  dimension "d175" = 7.5
  dimension "d176" = 3
  dimension "d178" = 4.5
  dimension "d181" = 79.5
extrude "Extrusion19" cut sketch "Sketch19" against normal through all
sketch "Sketch20" plane through (0, 0, 6.5) normal (0, 0, 1) x (1, 0, 0)
  line L0 (442.5, 528.5) -> (118.5, 528.5) projected
  line L1 (0, 130) -> (0, 10) projected
  line L2 (10, 0) -> (106, 0) projected
  line L3 (106, 0) -> (106, 123.5) projected
  line L4 (129, 448.5) -> (432, 448.5) projected
  line L5 (20, 61) -> (28, 61)
  line L6 (28, 61) -> (28, 54.5)
  line L7 (28, 54.5) -> (20, 54.5)
  line L8 (20, 54.5) -> (20, 61)
  line L9 (83, 61) -> (91, 61)
  line L10 (91, 61) -> (91, 54.5)
  line L11 (91, 54.5) -> (83, 54.5)
  line L12 (83, 54.5) -> (83, 61)
  circle A0 centre (53, 57.75) radius 2.25
  line L13 (280.5, 528.5) -> (280.5, 448.5) construction
  line L14 (541, 61) -> (533, 61)
  line L15 (533, 61) -> (533, 54.5)
  line L16 (533, 54.5) -> (541, 54.5)
  line L17 (541, 54.5) -> (541, 61)
  line L18 (478, 61) -> (470, 61)
  line L19 (470, 61) -> (470, 54.5)
  line L20 (470, 54.5) -> (478, 54.5)
  line L21 (478, 54.5) -> (478, 61)
  circle A1 centre (508, 57.75) radius 2.25
  point P0 (0, 0)
  point P1 (28, 57.75)
  point P2 (533, 57.75)
  dimension "d182" = 6.5
  dimension "d183" = 8
  dimension "d184" = 4.5
  dimension "d185" = 20
  dimension "d186" = 15
  dimension "d187" = 53
  dimension "d188" = 54.5
extrude "Extrusion20" cut sketch "Sketch20" against normal through all
equation "\"d3\" = d2"
equation "\"d8\" = d7"
equation "\"d9\" = d7"
equation "\"d10\" = d8"
properties part number "frame"
